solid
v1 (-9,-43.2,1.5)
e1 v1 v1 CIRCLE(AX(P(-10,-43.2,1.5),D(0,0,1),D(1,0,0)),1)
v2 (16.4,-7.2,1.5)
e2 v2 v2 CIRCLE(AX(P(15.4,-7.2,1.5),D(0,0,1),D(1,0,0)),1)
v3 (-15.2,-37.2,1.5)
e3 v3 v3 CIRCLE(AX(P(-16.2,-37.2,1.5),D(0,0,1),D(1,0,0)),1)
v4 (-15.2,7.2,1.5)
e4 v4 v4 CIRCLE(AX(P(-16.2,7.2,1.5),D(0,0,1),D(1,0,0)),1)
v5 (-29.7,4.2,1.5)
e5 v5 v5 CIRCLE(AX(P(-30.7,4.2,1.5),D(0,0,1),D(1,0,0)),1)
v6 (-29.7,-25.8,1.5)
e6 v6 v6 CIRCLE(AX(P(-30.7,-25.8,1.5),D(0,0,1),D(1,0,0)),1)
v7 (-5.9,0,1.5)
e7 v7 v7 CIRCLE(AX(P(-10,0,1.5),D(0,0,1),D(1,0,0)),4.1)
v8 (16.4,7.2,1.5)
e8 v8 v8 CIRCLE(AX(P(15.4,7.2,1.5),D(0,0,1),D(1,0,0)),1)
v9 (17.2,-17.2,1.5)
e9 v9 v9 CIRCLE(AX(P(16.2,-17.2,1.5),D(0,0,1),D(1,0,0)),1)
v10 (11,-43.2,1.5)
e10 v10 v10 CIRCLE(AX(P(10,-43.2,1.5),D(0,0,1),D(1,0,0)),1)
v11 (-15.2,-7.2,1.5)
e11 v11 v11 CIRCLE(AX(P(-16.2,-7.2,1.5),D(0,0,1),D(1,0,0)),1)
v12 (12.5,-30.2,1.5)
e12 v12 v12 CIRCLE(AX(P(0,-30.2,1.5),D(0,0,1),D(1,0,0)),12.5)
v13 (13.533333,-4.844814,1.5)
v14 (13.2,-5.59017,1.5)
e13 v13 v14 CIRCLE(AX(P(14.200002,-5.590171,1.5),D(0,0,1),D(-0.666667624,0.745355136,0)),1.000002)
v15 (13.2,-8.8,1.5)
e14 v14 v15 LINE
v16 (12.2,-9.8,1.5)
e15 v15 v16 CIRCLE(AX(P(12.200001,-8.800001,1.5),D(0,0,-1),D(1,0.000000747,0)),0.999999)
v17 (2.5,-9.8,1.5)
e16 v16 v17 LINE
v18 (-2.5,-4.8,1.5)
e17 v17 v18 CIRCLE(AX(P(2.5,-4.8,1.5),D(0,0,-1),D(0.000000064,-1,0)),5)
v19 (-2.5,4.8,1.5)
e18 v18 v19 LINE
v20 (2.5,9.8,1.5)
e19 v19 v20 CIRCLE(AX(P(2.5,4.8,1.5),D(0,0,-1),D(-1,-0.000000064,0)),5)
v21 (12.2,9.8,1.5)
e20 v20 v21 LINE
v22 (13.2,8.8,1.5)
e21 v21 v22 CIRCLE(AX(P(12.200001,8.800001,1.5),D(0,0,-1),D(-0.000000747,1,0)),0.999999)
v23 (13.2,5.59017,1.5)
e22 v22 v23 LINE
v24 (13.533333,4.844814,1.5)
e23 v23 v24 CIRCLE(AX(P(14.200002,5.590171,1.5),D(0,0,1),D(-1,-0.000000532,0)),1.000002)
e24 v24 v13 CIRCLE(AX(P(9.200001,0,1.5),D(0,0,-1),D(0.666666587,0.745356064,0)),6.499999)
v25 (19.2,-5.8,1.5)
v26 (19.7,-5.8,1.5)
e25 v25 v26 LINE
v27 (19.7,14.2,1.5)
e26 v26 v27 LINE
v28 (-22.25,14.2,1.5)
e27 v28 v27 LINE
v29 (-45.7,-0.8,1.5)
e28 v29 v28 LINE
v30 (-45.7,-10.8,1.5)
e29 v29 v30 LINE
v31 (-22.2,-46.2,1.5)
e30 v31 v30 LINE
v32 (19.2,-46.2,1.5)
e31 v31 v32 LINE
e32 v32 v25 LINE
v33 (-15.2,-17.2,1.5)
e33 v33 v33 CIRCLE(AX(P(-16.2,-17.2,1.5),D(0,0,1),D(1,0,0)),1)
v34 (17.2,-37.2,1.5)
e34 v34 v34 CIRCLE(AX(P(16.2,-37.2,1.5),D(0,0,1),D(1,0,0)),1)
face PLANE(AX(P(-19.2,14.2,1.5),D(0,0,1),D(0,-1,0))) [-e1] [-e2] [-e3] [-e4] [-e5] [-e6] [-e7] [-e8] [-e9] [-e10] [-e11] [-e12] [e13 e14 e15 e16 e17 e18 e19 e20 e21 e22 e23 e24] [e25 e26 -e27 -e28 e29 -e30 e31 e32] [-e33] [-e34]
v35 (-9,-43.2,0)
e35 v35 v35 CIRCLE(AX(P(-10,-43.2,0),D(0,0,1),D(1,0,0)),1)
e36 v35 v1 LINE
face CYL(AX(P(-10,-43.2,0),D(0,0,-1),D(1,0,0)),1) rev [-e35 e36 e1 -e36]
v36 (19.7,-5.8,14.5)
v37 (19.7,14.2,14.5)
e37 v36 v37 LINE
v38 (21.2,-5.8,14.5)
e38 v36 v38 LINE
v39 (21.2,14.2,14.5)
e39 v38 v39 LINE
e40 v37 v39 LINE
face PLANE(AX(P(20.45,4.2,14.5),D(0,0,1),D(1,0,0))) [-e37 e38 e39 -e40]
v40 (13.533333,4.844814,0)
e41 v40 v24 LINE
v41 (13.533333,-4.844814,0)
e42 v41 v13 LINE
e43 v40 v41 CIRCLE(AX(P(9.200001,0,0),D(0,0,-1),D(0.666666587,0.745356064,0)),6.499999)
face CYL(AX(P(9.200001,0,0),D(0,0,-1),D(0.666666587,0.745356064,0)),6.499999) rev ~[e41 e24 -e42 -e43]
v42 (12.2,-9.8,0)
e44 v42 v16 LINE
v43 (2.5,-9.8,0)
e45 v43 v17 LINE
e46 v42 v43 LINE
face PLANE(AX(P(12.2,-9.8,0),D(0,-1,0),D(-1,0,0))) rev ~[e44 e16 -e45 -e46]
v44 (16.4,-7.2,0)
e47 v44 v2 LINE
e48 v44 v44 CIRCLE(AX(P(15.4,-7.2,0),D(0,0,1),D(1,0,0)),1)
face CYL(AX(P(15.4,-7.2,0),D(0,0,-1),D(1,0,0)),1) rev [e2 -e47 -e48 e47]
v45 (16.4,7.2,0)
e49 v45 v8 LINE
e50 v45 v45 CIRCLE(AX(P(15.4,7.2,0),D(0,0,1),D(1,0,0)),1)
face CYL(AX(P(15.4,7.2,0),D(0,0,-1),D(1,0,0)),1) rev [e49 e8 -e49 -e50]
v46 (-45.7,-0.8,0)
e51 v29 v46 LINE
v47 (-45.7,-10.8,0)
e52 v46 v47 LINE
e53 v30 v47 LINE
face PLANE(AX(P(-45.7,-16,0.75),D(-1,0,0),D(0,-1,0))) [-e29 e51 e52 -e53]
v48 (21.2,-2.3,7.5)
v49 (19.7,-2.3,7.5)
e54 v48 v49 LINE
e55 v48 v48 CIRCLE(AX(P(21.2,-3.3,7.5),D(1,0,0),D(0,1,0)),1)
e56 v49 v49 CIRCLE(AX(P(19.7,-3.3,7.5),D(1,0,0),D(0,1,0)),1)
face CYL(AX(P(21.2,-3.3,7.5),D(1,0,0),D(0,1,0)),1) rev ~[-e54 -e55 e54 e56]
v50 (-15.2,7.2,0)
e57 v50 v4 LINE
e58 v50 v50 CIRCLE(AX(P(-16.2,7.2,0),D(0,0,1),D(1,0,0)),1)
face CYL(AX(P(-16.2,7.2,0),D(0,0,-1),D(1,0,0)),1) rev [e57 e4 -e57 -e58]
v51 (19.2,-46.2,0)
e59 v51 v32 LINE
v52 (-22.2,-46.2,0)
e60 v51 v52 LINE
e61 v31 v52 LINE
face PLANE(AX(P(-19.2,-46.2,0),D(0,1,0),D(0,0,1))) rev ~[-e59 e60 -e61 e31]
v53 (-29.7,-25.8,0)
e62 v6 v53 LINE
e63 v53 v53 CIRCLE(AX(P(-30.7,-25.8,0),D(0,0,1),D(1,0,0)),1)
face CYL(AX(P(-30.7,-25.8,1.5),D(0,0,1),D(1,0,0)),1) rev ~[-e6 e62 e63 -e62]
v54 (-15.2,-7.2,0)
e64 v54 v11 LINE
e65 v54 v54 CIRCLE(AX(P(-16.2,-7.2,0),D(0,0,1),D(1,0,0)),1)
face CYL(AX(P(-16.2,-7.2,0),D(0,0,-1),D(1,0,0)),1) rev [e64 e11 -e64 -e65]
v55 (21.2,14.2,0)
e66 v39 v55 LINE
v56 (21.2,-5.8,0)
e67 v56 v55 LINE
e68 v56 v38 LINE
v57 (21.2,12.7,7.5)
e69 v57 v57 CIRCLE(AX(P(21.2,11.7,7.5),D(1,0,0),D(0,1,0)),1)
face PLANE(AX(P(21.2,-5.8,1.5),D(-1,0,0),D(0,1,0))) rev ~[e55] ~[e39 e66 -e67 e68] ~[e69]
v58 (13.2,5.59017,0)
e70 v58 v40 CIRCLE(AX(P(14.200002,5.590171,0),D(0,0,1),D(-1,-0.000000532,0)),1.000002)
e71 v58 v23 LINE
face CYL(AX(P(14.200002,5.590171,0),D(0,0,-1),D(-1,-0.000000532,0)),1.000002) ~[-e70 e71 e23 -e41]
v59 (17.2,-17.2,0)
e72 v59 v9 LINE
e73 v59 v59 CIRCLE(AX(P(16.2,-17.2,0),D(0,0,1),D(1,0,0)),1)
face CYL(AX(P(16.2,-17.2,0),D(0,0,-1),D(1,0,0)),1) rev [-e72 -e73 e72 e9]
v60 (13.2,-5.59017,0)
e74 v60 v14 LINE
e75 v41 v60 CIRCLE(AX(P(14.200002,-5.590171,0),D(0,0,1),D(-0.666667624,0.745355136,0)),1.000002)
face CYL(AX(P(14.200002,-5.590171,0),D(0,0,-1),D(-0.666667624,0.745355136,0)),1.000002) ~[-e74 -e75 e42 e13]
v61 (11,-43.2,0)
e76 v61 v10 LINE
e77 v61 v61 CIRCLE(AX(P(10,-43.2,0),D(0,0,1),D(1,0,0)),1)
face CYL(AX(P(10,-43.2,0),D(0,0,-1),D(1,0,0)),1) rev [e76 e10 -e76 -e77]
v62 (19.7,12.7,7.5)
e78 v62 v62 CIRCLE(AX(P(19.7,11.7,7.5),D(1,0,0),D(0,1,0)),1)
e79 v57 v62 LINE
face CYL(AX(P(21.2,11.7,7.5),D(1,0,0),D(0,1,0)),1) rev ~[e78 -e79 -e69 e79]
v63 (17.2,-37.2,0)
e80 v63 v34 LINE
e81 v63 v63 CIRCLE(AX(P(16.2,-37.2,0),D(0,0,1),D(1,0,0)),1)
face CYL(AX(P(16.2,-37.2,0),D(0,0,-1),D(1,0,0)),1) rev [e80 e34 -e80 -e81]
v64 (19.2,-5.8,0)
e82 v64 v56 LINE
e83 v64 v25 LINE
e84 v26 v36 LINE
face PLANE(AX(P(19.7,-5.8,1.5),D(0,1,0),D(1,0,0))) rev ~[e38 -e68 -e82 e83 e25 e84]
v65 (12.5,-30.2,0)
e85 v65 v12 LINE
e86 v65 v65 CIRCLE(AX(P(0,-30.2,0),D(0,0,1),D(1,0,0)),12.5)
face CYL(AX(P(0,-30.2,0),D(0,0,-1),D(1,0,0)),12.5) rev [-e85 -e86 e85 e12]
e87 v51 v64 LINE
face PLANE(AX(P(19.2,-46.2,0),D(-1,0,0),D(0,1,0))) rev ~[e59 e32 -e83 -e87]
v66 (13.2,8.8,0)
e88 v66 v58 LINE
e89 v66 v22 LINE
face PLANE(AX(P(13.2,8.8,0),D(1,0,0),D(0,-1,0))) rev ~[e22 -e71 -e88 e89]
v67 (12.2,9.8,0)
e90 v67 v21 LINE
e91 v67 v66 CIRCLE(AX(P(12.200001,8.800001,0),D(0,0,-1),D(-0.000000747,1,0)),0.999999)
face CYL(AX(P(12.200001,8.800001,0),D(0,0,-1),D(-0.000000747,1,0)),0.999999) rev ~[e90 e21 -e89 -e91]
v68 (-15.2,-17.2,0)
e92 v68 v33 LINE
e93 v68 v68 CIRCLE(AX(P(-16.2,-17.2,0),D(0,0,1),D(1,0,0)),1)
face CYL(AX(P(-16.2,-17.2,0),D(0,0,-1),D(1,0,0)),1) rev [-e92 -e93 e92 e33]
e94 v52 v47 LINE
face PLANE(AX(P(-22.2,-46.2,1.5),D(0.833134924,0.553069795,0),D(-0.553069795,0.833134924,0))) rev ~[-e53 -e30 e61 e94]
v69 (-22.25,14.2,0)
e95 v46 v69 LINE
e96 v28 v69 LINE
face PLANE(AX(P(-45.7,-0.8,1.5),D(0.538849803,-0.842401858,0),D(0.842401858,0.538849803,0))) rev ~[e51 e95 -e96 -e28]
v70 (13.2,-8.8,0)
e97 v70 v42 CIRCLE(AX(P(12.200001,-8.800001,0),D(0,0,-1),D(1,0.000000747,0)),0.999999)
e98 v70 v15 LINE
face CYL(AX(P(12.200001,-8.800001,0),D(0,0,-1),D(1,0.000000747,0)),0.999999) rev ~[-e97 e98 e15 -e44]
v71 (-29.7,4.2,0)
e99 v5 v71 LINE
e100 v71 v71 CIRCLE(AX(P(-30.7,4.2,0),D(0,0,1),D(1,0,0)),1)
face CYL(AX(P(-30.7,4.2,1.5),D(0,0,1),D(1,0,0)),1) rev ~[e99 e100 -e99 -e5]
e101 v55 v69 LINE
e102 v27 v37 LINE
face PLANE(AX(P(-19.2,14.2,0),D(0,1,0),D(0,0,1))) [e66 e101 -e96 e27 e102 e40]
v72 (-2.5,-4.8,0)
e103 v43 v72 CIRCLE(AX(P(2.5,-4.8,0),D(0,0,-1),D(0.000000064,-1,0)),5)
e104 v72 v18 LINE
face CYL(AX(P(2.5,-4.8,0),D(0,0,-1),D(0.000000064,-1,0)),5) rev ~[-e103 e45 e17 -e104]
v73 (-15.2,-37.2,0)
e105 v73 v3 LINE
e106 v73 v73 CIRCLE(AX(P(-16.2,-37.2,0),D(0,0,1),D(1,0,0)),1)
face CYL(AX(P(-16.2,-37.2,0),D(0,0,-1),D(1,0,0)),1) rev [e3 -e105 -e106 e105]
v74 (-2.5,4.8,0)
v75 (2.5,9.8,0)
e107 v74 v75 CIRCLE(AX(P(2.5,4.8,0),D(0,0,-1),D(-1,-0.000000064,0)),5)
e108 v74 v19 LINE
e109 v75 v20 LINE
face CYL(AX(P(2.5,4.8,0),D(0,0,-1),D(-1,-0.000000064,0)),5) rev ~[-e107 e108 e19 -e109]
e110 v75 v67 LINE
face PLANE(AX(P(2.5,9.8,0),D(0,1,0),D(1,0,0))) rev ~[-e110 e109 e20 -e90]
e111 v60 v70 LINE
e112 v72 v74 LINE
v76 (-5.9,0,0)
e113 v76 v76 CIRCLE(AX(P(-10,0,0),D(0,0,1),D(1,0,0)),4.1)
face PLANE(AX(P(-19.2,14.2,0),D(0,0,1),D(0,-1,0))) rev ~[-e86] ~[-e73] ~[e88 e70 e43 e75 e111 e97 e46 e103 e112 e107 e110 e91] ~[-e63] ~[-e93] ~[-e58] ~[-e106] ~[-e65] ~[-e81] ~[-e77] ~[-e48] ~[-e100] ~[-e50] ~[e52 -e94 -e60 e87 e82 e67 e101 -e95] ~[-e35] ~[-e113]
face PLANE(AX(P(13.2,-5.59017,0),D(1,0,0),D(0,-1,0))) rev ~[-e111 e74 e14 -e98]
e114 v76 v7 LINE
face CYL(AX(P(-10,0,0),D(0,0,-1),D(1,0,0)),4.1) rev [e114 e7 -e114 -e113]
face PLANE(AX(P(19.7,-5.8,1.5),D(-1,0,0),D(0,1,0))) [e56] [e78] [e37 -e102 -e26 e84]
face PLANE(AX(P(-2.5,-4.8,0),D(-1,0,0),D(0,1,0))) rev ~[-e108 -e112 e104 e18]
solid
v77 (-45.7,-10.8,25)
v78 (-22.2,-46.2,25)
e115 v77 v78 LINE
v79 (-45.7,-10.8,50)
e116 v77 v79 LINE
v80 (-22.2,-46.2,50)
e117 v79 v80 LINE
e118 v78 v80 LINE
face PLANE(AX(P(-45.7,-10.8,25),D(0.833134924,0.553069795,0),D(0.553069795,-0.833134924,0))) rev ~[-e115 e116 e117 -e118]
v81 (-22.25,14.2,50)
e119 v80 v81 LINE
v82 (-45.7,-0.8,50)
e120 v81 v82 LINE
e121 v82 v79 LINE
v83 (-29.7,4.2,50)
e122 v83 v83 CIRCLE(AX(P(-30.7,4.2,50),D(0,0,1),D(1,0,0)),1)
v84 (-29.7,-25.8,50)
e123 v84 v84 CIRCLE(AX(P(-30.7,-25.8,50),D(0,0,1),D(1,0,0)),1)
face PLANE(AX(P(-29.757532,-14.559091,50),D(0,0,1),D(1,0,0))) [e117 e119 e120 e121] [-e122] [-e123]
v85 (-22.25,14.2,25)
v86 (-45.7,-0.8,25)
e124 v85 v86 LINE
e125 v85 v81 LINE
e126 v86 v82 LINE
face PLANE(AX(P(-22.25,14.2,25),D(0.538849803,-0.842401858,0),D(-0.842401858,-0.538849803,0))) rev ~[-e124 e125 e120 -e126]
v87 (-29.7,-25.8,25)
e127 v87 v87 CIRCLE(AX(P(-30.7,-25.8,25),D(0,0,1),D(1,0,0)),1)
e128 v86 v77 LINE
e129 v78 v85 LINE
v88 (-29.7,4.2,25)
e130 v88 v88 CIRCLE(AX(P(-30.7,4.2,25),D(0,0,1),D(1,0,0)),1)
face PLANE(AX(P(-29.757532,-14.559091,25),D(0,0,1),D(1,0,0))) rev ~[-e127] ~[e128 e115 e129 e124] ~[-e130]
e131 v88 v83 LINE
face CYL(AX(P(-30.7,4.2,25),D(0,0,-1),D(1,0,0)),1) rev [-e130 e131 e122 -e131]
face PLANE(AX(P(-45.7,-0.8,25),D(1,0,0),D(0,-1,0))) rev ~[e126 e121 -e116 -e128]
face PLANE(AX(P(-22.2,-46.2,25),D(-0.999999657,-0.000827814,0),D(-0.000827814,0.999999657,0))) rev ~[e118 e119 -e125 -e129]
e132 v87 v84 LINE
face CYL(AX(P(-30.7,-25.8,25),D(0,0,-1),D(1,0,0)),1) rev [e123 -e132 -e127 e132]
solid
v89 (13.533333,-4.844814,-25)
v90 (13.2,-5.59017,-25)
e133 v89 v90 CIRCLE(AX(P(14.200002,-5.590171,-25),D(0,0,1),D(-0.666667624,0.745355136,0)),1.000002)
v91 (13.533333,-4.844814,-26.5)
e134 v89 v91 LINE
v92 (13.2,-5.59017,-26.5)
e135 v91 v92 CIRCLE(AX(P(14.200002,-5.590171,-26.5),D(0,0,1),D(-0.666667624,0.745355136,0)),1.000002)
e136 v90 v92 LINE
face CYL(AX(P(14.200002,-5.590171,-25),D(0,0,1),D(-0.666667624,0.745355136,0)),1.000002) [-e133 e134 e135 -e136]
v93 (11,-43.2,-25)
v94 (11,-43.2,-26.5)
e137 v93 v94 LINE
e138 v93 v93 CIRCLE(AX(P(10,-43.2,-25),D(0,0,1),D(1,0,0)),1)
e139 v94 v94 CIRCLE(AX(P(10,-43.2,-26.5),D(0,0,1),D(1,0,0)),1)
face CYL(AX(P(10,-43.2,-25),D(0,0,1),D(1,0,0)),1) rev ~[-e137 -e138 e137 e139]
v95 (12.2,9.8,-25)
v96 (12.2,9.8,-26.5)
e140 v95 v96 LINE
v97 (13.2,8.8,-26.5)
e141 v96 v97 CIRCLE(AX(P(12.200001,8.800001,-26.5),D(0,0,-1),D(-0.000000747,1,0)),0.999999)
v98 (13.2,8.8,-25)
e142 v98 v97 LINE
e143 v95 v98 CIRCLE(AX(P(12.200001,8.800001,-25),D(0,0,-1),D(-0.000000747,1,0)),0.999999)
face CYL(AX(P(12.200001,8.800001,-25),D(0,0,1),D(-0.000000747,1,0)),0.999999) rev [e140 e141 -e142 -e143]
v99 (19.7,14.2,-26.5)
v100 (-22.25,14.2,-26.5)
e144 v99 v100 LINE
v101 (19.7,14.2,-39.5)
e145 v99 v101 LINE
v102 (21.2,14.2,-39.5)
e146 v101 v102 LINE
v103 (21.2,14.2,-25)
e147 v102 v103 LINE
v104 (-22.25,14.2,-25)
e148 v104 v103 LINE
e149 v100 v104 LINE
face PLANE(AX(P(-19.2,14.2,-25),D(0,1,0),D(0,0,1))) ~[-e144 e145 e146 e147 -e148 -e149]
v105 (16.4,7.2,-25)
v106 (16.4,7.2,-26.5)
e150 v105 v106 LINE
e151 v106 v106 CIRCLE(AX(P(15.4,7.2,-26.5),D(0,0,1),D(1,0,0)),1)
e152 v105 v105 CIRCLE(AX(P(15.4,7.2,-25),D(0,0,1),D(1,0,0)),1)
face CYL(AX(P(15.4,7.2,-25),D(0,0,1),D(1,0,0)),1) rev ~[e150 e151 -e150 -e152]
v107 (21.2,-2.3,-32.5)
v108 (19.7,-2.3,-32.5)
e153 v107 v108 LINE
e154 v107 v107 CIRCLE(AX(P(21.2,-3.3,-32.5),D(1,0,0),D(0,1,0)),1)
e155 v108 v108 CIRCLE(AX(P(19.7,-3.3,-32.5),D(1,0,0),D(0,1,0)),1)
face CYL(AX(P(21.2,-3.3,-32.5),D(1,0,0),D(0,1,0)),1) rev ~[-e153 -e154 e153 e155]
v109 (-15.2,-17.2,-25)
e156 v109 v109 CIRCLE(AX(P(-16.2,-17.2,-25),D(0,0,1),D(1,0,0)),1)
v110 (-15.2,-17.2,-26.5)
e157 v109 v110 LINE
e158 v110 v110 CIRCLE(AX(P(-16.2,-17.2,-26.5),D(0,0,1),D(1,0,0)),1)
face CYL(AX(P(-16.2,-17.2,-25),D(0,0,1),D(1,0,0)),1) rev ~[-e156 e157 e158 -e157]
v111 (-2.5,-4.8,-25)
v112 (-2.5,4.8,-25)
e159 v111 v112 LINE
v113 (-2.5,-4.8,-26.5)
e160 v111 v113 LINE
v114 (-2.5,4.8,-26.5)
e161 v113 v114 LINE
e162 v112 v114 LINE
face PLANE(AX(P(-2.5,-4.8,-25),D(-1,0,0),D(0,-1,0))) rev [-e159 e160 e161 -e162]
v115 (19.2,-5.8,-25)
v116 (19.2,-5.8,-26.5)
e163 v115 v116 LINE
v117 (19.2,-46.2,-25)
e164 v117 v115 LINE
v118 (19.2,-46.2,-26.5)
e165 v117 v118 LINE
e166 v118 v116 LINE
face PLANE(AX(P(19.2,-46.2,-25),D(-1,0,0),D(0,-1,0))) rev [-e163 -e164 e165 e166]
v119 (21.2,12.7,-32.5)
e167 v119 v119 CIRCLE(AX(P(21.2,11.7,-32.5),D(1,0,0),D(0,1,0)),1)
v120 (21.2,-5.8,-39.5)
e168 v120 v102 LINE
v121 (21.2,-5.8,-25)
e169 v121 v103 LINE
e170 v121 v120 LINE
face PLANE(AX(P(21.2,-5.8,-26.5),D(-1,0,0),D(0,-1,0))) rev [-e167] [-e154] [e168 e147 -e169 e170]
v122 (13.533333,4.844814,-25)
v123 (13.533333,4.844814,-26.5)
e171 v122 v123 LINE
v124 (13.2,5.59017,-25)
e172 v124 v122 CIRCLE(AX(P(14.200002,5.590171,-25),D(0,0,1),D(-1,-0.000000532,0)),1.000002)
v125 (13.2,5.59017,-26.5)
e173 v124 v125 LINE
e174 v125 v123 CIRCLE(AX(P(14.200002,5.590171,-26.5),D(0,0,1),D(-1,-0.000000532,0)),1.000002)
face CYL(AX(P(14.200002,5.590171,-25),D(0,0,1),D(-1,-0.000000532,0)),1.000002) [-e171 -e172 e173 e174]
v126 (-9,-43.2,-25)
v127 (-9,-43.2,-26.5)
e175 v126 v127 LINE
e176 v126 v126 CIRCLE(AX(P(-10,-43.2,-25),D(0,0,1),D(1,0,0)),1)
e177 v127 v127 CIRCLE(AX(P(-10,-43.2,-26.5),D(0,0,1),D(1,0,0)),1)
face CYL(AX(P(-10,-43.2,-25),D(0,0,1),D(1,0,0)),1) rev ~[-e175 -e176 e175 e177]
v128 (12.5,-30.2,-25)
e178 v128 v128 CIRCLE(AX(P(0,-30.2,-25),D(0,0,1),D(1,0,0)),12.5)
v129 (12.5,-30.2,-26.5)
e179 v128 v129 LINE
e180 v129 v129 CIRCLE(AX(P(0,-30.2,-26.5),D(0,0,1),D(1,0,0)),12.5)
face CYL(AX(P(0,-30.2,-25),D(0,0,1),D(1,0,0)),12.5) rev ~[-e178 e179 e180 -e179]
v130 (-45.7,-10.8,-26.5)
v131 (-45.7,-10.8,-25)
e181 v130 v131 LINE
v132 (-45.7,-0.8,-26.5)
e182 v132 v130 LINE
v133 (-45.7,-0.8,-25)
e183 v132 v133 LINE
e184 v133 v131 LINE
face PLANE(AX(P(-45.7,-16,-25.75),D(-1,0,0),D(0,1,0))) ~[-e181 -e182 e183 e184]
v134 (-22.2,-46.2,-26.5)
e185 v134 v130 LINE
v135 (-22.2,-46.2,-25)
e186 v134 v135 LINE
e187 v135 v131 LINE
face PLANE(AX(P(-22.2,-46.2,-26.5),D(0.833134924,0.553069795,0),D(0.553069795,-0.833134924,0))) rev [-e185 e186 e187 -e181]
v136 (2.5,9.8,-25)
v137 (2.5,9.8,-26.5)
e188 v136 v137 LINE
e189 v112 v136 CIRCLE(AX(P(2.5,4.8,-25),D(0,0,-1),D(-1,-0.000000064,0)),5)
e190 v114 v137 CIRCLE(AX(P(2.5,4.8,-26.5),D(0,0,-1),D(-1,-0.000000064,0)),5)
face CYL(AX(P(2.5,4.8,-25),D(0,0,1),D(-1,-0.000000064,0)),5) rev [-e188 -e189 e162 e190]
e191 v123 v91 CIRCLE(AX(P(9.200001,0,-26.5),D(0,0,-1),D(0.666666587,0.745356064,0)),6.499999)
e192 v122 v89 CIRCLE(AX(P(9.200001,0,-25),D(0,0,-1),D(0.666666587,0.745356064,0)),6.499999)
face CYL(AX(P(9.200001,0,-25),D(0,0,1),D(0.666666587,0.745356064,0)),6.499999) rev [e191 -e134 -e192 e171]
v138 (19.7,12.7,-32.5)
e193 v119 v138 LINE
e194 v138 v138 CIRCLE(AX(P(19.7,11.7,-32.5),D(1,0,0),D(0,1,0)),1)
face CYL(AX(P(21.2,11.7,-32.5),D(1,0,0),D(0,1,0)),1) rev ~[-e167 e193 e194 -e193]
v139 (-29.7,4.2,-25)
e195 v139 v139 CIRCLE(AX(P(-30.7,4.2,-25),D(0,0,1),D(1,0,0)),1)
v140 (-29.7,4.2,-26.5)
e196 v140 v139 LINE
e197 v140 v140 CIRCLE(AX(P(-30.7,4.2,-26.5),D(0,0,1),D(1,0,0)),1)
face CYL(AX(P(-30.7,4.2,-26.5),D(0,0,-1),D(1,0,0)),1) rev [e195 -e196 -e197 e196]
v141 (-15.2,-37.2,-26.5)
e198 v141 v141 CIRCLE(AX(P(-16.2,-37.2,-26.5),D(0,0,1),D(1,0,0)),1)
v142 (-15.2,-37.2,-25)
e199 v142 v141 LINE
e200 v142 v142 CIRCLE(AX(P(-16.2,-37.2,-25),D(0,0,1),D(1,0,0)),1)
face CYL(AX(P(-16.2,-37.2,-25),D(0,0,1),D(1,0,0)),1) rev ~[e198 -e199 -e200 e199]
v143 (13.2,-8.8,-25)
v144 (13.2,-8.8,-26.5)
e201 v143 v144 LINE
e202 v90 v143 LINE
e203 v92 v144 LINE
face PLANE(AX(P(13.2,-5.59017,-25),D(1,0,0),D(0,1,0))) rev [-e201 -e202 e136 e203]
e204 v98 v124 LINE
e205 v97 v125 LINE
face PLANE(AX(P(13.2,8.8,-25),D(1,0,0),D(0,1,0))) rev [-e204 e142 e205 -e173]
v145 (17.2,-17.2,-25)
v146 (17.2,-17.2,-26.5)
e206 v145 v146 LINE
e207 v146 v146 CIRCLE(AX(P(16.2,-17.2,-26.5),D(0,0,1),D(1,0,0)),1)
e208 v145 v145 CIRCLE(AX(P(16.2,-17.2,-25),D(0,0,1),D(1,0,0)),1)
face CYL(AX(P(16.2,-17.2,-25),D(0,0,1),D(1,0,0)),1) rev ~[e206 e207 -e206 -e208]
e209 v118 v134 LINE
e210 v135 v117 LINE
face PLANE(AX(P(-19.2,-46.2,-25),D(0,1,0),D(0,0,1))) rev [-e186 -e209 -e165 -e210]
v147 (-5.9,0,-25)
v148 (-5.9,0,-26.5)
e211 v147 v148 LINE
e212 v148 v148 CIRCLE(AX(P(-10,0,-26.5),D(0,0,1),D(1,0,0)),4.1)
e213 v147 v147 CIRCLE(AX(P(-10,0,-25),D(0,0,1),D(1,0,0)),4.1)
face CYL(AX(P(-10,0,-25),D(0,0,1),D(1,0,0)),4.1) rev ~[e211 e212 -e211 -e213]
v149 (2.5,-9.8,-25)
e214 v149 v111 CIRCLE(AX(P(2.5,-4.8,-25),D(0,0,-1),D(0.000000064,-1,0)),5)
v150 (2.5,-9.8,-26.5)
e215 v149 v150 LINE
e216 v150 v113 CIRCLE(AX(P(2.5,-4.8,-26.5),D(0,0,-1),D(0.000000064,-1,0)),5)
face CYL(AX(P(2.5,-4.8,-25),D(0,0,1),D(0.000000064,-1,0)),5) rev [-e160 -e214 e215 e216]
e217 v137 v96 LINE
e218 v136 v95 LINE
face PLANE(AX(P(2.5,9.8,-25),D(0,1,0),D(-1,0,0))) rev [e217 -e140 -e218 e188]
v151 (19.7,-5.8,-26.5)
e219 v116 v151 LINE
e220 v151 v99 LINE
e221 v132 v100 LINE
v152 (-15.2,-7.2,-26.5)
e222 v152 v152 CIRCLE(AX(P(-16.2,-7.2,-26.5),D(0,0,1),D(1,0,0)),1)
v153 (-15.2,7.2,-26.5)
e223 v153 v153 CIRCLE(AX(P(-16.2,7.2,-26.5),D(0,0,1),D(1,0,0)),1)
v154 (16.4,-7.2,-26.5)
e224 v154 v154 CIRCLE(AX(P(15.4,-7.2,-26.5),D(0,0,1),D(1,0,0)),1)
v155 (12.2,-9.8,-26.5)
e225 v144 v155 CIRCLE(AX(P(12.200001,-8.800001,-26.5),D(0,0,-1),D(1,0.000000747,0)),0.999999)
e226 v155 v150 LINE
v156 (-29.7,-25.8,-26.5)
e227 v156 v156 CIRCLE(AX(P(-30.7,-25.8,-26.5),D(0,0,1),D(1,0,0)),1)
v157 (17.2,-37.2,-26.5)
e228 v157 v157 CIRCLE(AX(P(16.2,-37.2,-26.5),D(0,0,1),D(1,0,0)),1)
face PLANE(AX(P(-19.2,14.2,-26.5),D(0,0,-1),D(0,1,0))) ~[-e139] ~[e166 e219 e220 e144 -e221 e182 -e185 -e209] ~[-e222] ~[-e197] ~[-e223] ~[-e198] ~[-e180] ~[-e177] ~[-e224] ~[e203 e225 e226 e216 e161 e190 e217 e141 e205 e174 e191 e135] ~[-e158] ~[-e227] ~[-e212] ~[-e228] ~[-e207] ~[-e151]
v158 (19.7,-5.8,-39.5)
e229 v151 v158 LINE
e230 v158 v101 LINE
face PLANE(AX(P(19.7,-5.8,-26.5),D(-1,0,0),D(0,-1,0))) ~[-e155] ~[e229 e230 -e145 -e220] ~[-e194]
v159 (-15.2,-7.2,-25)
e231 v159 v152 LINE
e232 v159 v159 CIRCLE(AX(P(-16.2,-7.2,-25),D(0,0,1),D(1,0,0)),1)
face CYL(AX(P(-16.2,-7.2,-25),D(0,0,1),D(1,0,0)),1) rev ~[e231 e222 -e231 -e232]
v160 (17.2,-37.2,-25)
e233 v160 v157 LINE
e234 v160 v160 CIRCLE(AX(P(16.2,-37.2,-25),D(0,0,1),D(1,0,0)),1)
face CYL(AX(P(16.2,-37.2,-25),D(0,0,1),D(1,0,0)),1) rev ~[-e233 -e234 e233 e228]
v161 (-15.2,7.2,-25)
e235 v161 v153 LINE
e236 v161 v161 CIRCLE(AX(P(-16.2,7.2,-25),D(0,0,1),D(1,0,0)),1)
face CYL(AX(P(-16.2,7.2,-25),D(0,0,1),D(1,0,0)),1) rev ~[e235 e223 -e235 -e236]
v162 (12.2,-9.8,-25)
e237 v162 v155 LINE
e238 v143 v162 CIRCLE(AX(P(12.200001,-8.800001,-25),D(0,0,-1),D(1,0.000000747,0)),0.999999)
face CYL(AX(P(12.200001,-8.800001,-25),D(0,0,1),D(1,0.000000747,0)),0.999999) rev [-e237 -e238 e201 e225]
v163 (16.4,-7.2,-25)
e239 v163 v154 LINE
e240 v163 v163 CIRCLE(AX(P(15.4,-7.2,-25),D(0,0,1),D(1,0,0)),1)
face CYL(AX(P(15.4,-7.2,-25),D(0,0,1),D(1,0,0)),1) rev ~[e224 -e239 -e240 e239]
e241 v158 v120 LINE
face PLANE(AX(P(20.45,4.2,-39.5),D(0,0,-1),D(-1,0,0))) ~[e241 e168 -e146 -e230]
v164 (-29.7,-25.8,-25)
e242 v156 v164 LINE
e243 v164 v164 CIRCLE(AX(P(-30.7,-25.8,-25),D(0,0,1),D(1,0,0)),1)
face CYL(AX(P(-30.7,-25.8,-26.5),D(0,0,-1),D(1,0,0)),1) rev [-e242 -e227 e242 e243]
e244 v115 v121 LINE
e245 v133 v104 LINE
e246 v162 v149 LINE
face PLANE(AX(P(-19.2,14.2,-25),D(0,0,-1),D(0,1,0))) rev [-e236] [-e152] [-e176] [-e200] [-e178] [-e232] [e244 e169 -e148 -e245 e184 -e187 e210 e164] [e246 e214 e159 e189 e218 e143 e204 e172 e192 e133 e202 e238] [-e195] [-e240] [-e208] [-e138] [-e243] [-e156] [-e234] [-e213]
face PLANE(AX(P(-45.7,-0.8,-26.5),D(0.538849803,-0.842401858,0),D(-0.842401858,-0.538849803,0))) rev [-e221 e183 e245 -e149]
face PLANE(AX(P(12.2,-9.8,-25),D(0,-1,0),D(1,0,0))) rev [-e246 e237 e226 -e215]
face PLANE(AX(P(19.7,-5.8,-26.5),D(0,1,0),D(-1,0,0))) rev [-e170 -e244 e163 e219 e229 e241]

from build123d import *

# Parameters (mm, degrees)
F0_R      = 1
F0_R_2    = 12.5
F0_R_3    = 4.1
F1_DEPTH  = 1.5
F2_W      = 20
F2_H      = 1.5
F3_DEPTH  = 2
F4_W      = 1.5
F4_H      = 20
F5_DEPTH  = 13
F8_R      = 1
F9_DEPTH  = 1.5
F10_W     = 60.4
F10_H     = 1.5
F11_DEPTH = 26.5
F12_R     = 1
F13_DEPTH = 1.5
F16_R     = 1
F17_DEPTH = 25


with BuildPart() as f1:
    # F0 (on Top) → F1 (new body)
    with BuildSketch(Plane.XY):
        Polygon((19.2, -14.2), (19.2, 14.2), (-19.2, 14.2), (-19.2, -14.2), (-19.2, -46.2), (19.2, -46.2), align=None)
        with Locations((-10, -43.2)):
            Circle(F0_R, mode=Mode.SUBTRACT)
        with Locations((-16.2, -37.2)):
            Circle(F0_R, mode=Mode.SUBTRACT)
        with Locations((-16.2, -17.2)):
            Circle(F0_R, mode=Mode.SUBTRACT)
        with Locations((10, -43.2)):
            Circle(F0_R, mode=Mode.SUBTRACT)
        with Locations((16.2, -37.2)):
            Circle(F0_R, mode=Mode.SUBTRACT)
        with Locations((0, -30.2)):
            Circle(F0_R_2, mode=Mode.SUBTRACT)
        with Locations((16.2, -17.2)):
            Circle(F0_R, mode=Mode.SUBTRACT)
        with Locations((-16.2, -7.2)):
            Circle(F0_R, mode=Mode.SUBTRACT)
        with Locations((-10, 0)):
            Circle(F0_R_3, mode=Mode.SUBTRACT)
        with Locations((-16.2, 7.2)):
            Circle(F0_R, mode=Mode.SUBTRACT)
        with Locations((15.4, -7.2)):
            Circle(F0_R, mode=Mode.SUBTRACT)
        with BuildLine():
            ThreePointArc((-2.5, 4.8), (-1.035534, 8.335534), (2.5, 9.8))
            Line((2.5, 9.8), (12.2, 9.8))
            ThreePointArc((12.2, 9.8), (12.907107, 9.507107), (13.2, 8.8))
            Line((13.2, 8.8), (13.2, 5.59017))
            ThreePointArc((13.2, 5.59017), (13.287129, 5.181922), (13.533333, 4.844814))
            ThreePointArc((13.533333, 4.844814), (15.7, 0), (13.533333, -4.844814))
            ThreePointArc((13.533333, -4.844814), (13.287129, -5.181922), (13.2, -5.59017))
            Line((13.2, -5.59017), (13.2, -8.8))
            ThreePointArc((13.2, -8.8), (12.907107, -9.507107), (12.2, -9.8))
            Line((12.2, -9.8), (2.5, -9.8))
            ThreePointArc((2.5, -9.8), (-1.035534, -8.335534), (-2.5, -4.8))
            Line((-2.5, -4.8), (-2.5, 4.8))
        make_face(mode=Mode.SUBTRACT)
        with Locations((15.4, 7.2)):
            Circle(F0_R, mode=Mode.SUBTRACT)
    extrude(amount=F1_DEPTH)

    # F2 (on face) → F3 (join)
    with BuildSketch(Plane.YZ.offset(19.2)):
        with Locations((4.2, 0.75)):
            Rectangle(F2_W, F2_H)
    extrude(amount=F3_DEPTH)

    # F4 (on face) → F5 (join)
    with BuildSketch(Plane.XY.offset(1.5)):
        with Locations((20.45, 4.2)):
            Rectangle(F4_W, F4_H)
    extrude(amount=F5_DEPTH)


with BuildPart() as f7_1:
    # F7: instance of F1
    add(f1.part.mirror(Plane.XY.offset(-12.5)))


with BuildPart() as f9_tool:
    # F8 (on face) → F9 (new body, through all)
    with BuildSketch(Plane.YZ.offset(21.2)):
        with Locations((11.7, 7.5)):
            Circle(F8_R)
        with Locations((-3.3, 7.5)):
            Circle(F8_R)
        with Locations((11.7, -32.5)):
            Circle(F8_R)
        with Locations((-3.3, -32.5)):
            Circle(F8_R)
    extrude(amount=-F9_DEPTH)


with BuildPart() as f1_1:
    add(f1.part)

    # F9: cut by f9_tool
    add(f9_tool.part, mode=Mode.SUBTRACT)

    # F10 (on face) → F11 (join)
    with BuildSketch(Plane(origin=(-19.2, 0, 0), x_dir=(0, -1, 0), z_dir=(-1, 0, 0))):
        with Locations((16, 0.75)):
            Rectangle(F10_W, F10_H)
    extrude(amount=F11_DEPTH)

    # F12 (on face) → F13 (cut, through all)
    with BuildSketch(Plane.XY.offset(1.5)):
        Polygon((-22.2, -46.2), (-45.7, -10.8), (-45.7, -46.2), align=None)
        Polygon((-45.7, -0.8), (-22.25, 14.2), (-45.7, 14.2), align=None)
        with Locations((-30.7, 4.2)):
            Circle(F12_R)
        with Locations((-30.7, -25.8)):
            Circle(F12_R)
    extrude(amount=-F13_DEPTH, mode=Mode.SUBTRACT)


with BuildPart() as f7_1_1:
    add(f7_1.part)

    # F9: cut by f9_tool
    add(f9_tool.part, mode=Mode.SUBTRACT)

    # F14: F1 across plane
    add(f1_1.part.mirror(Plane.XY.offset(-12.5)))


with BuildPart() as f17:
    # F16 (on offset) → F17 (new body)
    with BuildSketch(Plane.XY.offset(25)):
        Polygon((-22.2, -46.2), (-22.25, 14.2), (-45.7, -0.8), (-45.7, -10.8), align=None)
        with Locations((-30.7, -25.8)):
            Circle(F16_R, mode=Mode.SUBTRACT)
        with Locations((-30.7, 4.2)):
            Circle(F16_R, mode=Mode.SUBTRACT)
    extrude(amount=F17_DEPTH)


solid = Compound([f1_1.part, f7_1_1.part, f17.part])
